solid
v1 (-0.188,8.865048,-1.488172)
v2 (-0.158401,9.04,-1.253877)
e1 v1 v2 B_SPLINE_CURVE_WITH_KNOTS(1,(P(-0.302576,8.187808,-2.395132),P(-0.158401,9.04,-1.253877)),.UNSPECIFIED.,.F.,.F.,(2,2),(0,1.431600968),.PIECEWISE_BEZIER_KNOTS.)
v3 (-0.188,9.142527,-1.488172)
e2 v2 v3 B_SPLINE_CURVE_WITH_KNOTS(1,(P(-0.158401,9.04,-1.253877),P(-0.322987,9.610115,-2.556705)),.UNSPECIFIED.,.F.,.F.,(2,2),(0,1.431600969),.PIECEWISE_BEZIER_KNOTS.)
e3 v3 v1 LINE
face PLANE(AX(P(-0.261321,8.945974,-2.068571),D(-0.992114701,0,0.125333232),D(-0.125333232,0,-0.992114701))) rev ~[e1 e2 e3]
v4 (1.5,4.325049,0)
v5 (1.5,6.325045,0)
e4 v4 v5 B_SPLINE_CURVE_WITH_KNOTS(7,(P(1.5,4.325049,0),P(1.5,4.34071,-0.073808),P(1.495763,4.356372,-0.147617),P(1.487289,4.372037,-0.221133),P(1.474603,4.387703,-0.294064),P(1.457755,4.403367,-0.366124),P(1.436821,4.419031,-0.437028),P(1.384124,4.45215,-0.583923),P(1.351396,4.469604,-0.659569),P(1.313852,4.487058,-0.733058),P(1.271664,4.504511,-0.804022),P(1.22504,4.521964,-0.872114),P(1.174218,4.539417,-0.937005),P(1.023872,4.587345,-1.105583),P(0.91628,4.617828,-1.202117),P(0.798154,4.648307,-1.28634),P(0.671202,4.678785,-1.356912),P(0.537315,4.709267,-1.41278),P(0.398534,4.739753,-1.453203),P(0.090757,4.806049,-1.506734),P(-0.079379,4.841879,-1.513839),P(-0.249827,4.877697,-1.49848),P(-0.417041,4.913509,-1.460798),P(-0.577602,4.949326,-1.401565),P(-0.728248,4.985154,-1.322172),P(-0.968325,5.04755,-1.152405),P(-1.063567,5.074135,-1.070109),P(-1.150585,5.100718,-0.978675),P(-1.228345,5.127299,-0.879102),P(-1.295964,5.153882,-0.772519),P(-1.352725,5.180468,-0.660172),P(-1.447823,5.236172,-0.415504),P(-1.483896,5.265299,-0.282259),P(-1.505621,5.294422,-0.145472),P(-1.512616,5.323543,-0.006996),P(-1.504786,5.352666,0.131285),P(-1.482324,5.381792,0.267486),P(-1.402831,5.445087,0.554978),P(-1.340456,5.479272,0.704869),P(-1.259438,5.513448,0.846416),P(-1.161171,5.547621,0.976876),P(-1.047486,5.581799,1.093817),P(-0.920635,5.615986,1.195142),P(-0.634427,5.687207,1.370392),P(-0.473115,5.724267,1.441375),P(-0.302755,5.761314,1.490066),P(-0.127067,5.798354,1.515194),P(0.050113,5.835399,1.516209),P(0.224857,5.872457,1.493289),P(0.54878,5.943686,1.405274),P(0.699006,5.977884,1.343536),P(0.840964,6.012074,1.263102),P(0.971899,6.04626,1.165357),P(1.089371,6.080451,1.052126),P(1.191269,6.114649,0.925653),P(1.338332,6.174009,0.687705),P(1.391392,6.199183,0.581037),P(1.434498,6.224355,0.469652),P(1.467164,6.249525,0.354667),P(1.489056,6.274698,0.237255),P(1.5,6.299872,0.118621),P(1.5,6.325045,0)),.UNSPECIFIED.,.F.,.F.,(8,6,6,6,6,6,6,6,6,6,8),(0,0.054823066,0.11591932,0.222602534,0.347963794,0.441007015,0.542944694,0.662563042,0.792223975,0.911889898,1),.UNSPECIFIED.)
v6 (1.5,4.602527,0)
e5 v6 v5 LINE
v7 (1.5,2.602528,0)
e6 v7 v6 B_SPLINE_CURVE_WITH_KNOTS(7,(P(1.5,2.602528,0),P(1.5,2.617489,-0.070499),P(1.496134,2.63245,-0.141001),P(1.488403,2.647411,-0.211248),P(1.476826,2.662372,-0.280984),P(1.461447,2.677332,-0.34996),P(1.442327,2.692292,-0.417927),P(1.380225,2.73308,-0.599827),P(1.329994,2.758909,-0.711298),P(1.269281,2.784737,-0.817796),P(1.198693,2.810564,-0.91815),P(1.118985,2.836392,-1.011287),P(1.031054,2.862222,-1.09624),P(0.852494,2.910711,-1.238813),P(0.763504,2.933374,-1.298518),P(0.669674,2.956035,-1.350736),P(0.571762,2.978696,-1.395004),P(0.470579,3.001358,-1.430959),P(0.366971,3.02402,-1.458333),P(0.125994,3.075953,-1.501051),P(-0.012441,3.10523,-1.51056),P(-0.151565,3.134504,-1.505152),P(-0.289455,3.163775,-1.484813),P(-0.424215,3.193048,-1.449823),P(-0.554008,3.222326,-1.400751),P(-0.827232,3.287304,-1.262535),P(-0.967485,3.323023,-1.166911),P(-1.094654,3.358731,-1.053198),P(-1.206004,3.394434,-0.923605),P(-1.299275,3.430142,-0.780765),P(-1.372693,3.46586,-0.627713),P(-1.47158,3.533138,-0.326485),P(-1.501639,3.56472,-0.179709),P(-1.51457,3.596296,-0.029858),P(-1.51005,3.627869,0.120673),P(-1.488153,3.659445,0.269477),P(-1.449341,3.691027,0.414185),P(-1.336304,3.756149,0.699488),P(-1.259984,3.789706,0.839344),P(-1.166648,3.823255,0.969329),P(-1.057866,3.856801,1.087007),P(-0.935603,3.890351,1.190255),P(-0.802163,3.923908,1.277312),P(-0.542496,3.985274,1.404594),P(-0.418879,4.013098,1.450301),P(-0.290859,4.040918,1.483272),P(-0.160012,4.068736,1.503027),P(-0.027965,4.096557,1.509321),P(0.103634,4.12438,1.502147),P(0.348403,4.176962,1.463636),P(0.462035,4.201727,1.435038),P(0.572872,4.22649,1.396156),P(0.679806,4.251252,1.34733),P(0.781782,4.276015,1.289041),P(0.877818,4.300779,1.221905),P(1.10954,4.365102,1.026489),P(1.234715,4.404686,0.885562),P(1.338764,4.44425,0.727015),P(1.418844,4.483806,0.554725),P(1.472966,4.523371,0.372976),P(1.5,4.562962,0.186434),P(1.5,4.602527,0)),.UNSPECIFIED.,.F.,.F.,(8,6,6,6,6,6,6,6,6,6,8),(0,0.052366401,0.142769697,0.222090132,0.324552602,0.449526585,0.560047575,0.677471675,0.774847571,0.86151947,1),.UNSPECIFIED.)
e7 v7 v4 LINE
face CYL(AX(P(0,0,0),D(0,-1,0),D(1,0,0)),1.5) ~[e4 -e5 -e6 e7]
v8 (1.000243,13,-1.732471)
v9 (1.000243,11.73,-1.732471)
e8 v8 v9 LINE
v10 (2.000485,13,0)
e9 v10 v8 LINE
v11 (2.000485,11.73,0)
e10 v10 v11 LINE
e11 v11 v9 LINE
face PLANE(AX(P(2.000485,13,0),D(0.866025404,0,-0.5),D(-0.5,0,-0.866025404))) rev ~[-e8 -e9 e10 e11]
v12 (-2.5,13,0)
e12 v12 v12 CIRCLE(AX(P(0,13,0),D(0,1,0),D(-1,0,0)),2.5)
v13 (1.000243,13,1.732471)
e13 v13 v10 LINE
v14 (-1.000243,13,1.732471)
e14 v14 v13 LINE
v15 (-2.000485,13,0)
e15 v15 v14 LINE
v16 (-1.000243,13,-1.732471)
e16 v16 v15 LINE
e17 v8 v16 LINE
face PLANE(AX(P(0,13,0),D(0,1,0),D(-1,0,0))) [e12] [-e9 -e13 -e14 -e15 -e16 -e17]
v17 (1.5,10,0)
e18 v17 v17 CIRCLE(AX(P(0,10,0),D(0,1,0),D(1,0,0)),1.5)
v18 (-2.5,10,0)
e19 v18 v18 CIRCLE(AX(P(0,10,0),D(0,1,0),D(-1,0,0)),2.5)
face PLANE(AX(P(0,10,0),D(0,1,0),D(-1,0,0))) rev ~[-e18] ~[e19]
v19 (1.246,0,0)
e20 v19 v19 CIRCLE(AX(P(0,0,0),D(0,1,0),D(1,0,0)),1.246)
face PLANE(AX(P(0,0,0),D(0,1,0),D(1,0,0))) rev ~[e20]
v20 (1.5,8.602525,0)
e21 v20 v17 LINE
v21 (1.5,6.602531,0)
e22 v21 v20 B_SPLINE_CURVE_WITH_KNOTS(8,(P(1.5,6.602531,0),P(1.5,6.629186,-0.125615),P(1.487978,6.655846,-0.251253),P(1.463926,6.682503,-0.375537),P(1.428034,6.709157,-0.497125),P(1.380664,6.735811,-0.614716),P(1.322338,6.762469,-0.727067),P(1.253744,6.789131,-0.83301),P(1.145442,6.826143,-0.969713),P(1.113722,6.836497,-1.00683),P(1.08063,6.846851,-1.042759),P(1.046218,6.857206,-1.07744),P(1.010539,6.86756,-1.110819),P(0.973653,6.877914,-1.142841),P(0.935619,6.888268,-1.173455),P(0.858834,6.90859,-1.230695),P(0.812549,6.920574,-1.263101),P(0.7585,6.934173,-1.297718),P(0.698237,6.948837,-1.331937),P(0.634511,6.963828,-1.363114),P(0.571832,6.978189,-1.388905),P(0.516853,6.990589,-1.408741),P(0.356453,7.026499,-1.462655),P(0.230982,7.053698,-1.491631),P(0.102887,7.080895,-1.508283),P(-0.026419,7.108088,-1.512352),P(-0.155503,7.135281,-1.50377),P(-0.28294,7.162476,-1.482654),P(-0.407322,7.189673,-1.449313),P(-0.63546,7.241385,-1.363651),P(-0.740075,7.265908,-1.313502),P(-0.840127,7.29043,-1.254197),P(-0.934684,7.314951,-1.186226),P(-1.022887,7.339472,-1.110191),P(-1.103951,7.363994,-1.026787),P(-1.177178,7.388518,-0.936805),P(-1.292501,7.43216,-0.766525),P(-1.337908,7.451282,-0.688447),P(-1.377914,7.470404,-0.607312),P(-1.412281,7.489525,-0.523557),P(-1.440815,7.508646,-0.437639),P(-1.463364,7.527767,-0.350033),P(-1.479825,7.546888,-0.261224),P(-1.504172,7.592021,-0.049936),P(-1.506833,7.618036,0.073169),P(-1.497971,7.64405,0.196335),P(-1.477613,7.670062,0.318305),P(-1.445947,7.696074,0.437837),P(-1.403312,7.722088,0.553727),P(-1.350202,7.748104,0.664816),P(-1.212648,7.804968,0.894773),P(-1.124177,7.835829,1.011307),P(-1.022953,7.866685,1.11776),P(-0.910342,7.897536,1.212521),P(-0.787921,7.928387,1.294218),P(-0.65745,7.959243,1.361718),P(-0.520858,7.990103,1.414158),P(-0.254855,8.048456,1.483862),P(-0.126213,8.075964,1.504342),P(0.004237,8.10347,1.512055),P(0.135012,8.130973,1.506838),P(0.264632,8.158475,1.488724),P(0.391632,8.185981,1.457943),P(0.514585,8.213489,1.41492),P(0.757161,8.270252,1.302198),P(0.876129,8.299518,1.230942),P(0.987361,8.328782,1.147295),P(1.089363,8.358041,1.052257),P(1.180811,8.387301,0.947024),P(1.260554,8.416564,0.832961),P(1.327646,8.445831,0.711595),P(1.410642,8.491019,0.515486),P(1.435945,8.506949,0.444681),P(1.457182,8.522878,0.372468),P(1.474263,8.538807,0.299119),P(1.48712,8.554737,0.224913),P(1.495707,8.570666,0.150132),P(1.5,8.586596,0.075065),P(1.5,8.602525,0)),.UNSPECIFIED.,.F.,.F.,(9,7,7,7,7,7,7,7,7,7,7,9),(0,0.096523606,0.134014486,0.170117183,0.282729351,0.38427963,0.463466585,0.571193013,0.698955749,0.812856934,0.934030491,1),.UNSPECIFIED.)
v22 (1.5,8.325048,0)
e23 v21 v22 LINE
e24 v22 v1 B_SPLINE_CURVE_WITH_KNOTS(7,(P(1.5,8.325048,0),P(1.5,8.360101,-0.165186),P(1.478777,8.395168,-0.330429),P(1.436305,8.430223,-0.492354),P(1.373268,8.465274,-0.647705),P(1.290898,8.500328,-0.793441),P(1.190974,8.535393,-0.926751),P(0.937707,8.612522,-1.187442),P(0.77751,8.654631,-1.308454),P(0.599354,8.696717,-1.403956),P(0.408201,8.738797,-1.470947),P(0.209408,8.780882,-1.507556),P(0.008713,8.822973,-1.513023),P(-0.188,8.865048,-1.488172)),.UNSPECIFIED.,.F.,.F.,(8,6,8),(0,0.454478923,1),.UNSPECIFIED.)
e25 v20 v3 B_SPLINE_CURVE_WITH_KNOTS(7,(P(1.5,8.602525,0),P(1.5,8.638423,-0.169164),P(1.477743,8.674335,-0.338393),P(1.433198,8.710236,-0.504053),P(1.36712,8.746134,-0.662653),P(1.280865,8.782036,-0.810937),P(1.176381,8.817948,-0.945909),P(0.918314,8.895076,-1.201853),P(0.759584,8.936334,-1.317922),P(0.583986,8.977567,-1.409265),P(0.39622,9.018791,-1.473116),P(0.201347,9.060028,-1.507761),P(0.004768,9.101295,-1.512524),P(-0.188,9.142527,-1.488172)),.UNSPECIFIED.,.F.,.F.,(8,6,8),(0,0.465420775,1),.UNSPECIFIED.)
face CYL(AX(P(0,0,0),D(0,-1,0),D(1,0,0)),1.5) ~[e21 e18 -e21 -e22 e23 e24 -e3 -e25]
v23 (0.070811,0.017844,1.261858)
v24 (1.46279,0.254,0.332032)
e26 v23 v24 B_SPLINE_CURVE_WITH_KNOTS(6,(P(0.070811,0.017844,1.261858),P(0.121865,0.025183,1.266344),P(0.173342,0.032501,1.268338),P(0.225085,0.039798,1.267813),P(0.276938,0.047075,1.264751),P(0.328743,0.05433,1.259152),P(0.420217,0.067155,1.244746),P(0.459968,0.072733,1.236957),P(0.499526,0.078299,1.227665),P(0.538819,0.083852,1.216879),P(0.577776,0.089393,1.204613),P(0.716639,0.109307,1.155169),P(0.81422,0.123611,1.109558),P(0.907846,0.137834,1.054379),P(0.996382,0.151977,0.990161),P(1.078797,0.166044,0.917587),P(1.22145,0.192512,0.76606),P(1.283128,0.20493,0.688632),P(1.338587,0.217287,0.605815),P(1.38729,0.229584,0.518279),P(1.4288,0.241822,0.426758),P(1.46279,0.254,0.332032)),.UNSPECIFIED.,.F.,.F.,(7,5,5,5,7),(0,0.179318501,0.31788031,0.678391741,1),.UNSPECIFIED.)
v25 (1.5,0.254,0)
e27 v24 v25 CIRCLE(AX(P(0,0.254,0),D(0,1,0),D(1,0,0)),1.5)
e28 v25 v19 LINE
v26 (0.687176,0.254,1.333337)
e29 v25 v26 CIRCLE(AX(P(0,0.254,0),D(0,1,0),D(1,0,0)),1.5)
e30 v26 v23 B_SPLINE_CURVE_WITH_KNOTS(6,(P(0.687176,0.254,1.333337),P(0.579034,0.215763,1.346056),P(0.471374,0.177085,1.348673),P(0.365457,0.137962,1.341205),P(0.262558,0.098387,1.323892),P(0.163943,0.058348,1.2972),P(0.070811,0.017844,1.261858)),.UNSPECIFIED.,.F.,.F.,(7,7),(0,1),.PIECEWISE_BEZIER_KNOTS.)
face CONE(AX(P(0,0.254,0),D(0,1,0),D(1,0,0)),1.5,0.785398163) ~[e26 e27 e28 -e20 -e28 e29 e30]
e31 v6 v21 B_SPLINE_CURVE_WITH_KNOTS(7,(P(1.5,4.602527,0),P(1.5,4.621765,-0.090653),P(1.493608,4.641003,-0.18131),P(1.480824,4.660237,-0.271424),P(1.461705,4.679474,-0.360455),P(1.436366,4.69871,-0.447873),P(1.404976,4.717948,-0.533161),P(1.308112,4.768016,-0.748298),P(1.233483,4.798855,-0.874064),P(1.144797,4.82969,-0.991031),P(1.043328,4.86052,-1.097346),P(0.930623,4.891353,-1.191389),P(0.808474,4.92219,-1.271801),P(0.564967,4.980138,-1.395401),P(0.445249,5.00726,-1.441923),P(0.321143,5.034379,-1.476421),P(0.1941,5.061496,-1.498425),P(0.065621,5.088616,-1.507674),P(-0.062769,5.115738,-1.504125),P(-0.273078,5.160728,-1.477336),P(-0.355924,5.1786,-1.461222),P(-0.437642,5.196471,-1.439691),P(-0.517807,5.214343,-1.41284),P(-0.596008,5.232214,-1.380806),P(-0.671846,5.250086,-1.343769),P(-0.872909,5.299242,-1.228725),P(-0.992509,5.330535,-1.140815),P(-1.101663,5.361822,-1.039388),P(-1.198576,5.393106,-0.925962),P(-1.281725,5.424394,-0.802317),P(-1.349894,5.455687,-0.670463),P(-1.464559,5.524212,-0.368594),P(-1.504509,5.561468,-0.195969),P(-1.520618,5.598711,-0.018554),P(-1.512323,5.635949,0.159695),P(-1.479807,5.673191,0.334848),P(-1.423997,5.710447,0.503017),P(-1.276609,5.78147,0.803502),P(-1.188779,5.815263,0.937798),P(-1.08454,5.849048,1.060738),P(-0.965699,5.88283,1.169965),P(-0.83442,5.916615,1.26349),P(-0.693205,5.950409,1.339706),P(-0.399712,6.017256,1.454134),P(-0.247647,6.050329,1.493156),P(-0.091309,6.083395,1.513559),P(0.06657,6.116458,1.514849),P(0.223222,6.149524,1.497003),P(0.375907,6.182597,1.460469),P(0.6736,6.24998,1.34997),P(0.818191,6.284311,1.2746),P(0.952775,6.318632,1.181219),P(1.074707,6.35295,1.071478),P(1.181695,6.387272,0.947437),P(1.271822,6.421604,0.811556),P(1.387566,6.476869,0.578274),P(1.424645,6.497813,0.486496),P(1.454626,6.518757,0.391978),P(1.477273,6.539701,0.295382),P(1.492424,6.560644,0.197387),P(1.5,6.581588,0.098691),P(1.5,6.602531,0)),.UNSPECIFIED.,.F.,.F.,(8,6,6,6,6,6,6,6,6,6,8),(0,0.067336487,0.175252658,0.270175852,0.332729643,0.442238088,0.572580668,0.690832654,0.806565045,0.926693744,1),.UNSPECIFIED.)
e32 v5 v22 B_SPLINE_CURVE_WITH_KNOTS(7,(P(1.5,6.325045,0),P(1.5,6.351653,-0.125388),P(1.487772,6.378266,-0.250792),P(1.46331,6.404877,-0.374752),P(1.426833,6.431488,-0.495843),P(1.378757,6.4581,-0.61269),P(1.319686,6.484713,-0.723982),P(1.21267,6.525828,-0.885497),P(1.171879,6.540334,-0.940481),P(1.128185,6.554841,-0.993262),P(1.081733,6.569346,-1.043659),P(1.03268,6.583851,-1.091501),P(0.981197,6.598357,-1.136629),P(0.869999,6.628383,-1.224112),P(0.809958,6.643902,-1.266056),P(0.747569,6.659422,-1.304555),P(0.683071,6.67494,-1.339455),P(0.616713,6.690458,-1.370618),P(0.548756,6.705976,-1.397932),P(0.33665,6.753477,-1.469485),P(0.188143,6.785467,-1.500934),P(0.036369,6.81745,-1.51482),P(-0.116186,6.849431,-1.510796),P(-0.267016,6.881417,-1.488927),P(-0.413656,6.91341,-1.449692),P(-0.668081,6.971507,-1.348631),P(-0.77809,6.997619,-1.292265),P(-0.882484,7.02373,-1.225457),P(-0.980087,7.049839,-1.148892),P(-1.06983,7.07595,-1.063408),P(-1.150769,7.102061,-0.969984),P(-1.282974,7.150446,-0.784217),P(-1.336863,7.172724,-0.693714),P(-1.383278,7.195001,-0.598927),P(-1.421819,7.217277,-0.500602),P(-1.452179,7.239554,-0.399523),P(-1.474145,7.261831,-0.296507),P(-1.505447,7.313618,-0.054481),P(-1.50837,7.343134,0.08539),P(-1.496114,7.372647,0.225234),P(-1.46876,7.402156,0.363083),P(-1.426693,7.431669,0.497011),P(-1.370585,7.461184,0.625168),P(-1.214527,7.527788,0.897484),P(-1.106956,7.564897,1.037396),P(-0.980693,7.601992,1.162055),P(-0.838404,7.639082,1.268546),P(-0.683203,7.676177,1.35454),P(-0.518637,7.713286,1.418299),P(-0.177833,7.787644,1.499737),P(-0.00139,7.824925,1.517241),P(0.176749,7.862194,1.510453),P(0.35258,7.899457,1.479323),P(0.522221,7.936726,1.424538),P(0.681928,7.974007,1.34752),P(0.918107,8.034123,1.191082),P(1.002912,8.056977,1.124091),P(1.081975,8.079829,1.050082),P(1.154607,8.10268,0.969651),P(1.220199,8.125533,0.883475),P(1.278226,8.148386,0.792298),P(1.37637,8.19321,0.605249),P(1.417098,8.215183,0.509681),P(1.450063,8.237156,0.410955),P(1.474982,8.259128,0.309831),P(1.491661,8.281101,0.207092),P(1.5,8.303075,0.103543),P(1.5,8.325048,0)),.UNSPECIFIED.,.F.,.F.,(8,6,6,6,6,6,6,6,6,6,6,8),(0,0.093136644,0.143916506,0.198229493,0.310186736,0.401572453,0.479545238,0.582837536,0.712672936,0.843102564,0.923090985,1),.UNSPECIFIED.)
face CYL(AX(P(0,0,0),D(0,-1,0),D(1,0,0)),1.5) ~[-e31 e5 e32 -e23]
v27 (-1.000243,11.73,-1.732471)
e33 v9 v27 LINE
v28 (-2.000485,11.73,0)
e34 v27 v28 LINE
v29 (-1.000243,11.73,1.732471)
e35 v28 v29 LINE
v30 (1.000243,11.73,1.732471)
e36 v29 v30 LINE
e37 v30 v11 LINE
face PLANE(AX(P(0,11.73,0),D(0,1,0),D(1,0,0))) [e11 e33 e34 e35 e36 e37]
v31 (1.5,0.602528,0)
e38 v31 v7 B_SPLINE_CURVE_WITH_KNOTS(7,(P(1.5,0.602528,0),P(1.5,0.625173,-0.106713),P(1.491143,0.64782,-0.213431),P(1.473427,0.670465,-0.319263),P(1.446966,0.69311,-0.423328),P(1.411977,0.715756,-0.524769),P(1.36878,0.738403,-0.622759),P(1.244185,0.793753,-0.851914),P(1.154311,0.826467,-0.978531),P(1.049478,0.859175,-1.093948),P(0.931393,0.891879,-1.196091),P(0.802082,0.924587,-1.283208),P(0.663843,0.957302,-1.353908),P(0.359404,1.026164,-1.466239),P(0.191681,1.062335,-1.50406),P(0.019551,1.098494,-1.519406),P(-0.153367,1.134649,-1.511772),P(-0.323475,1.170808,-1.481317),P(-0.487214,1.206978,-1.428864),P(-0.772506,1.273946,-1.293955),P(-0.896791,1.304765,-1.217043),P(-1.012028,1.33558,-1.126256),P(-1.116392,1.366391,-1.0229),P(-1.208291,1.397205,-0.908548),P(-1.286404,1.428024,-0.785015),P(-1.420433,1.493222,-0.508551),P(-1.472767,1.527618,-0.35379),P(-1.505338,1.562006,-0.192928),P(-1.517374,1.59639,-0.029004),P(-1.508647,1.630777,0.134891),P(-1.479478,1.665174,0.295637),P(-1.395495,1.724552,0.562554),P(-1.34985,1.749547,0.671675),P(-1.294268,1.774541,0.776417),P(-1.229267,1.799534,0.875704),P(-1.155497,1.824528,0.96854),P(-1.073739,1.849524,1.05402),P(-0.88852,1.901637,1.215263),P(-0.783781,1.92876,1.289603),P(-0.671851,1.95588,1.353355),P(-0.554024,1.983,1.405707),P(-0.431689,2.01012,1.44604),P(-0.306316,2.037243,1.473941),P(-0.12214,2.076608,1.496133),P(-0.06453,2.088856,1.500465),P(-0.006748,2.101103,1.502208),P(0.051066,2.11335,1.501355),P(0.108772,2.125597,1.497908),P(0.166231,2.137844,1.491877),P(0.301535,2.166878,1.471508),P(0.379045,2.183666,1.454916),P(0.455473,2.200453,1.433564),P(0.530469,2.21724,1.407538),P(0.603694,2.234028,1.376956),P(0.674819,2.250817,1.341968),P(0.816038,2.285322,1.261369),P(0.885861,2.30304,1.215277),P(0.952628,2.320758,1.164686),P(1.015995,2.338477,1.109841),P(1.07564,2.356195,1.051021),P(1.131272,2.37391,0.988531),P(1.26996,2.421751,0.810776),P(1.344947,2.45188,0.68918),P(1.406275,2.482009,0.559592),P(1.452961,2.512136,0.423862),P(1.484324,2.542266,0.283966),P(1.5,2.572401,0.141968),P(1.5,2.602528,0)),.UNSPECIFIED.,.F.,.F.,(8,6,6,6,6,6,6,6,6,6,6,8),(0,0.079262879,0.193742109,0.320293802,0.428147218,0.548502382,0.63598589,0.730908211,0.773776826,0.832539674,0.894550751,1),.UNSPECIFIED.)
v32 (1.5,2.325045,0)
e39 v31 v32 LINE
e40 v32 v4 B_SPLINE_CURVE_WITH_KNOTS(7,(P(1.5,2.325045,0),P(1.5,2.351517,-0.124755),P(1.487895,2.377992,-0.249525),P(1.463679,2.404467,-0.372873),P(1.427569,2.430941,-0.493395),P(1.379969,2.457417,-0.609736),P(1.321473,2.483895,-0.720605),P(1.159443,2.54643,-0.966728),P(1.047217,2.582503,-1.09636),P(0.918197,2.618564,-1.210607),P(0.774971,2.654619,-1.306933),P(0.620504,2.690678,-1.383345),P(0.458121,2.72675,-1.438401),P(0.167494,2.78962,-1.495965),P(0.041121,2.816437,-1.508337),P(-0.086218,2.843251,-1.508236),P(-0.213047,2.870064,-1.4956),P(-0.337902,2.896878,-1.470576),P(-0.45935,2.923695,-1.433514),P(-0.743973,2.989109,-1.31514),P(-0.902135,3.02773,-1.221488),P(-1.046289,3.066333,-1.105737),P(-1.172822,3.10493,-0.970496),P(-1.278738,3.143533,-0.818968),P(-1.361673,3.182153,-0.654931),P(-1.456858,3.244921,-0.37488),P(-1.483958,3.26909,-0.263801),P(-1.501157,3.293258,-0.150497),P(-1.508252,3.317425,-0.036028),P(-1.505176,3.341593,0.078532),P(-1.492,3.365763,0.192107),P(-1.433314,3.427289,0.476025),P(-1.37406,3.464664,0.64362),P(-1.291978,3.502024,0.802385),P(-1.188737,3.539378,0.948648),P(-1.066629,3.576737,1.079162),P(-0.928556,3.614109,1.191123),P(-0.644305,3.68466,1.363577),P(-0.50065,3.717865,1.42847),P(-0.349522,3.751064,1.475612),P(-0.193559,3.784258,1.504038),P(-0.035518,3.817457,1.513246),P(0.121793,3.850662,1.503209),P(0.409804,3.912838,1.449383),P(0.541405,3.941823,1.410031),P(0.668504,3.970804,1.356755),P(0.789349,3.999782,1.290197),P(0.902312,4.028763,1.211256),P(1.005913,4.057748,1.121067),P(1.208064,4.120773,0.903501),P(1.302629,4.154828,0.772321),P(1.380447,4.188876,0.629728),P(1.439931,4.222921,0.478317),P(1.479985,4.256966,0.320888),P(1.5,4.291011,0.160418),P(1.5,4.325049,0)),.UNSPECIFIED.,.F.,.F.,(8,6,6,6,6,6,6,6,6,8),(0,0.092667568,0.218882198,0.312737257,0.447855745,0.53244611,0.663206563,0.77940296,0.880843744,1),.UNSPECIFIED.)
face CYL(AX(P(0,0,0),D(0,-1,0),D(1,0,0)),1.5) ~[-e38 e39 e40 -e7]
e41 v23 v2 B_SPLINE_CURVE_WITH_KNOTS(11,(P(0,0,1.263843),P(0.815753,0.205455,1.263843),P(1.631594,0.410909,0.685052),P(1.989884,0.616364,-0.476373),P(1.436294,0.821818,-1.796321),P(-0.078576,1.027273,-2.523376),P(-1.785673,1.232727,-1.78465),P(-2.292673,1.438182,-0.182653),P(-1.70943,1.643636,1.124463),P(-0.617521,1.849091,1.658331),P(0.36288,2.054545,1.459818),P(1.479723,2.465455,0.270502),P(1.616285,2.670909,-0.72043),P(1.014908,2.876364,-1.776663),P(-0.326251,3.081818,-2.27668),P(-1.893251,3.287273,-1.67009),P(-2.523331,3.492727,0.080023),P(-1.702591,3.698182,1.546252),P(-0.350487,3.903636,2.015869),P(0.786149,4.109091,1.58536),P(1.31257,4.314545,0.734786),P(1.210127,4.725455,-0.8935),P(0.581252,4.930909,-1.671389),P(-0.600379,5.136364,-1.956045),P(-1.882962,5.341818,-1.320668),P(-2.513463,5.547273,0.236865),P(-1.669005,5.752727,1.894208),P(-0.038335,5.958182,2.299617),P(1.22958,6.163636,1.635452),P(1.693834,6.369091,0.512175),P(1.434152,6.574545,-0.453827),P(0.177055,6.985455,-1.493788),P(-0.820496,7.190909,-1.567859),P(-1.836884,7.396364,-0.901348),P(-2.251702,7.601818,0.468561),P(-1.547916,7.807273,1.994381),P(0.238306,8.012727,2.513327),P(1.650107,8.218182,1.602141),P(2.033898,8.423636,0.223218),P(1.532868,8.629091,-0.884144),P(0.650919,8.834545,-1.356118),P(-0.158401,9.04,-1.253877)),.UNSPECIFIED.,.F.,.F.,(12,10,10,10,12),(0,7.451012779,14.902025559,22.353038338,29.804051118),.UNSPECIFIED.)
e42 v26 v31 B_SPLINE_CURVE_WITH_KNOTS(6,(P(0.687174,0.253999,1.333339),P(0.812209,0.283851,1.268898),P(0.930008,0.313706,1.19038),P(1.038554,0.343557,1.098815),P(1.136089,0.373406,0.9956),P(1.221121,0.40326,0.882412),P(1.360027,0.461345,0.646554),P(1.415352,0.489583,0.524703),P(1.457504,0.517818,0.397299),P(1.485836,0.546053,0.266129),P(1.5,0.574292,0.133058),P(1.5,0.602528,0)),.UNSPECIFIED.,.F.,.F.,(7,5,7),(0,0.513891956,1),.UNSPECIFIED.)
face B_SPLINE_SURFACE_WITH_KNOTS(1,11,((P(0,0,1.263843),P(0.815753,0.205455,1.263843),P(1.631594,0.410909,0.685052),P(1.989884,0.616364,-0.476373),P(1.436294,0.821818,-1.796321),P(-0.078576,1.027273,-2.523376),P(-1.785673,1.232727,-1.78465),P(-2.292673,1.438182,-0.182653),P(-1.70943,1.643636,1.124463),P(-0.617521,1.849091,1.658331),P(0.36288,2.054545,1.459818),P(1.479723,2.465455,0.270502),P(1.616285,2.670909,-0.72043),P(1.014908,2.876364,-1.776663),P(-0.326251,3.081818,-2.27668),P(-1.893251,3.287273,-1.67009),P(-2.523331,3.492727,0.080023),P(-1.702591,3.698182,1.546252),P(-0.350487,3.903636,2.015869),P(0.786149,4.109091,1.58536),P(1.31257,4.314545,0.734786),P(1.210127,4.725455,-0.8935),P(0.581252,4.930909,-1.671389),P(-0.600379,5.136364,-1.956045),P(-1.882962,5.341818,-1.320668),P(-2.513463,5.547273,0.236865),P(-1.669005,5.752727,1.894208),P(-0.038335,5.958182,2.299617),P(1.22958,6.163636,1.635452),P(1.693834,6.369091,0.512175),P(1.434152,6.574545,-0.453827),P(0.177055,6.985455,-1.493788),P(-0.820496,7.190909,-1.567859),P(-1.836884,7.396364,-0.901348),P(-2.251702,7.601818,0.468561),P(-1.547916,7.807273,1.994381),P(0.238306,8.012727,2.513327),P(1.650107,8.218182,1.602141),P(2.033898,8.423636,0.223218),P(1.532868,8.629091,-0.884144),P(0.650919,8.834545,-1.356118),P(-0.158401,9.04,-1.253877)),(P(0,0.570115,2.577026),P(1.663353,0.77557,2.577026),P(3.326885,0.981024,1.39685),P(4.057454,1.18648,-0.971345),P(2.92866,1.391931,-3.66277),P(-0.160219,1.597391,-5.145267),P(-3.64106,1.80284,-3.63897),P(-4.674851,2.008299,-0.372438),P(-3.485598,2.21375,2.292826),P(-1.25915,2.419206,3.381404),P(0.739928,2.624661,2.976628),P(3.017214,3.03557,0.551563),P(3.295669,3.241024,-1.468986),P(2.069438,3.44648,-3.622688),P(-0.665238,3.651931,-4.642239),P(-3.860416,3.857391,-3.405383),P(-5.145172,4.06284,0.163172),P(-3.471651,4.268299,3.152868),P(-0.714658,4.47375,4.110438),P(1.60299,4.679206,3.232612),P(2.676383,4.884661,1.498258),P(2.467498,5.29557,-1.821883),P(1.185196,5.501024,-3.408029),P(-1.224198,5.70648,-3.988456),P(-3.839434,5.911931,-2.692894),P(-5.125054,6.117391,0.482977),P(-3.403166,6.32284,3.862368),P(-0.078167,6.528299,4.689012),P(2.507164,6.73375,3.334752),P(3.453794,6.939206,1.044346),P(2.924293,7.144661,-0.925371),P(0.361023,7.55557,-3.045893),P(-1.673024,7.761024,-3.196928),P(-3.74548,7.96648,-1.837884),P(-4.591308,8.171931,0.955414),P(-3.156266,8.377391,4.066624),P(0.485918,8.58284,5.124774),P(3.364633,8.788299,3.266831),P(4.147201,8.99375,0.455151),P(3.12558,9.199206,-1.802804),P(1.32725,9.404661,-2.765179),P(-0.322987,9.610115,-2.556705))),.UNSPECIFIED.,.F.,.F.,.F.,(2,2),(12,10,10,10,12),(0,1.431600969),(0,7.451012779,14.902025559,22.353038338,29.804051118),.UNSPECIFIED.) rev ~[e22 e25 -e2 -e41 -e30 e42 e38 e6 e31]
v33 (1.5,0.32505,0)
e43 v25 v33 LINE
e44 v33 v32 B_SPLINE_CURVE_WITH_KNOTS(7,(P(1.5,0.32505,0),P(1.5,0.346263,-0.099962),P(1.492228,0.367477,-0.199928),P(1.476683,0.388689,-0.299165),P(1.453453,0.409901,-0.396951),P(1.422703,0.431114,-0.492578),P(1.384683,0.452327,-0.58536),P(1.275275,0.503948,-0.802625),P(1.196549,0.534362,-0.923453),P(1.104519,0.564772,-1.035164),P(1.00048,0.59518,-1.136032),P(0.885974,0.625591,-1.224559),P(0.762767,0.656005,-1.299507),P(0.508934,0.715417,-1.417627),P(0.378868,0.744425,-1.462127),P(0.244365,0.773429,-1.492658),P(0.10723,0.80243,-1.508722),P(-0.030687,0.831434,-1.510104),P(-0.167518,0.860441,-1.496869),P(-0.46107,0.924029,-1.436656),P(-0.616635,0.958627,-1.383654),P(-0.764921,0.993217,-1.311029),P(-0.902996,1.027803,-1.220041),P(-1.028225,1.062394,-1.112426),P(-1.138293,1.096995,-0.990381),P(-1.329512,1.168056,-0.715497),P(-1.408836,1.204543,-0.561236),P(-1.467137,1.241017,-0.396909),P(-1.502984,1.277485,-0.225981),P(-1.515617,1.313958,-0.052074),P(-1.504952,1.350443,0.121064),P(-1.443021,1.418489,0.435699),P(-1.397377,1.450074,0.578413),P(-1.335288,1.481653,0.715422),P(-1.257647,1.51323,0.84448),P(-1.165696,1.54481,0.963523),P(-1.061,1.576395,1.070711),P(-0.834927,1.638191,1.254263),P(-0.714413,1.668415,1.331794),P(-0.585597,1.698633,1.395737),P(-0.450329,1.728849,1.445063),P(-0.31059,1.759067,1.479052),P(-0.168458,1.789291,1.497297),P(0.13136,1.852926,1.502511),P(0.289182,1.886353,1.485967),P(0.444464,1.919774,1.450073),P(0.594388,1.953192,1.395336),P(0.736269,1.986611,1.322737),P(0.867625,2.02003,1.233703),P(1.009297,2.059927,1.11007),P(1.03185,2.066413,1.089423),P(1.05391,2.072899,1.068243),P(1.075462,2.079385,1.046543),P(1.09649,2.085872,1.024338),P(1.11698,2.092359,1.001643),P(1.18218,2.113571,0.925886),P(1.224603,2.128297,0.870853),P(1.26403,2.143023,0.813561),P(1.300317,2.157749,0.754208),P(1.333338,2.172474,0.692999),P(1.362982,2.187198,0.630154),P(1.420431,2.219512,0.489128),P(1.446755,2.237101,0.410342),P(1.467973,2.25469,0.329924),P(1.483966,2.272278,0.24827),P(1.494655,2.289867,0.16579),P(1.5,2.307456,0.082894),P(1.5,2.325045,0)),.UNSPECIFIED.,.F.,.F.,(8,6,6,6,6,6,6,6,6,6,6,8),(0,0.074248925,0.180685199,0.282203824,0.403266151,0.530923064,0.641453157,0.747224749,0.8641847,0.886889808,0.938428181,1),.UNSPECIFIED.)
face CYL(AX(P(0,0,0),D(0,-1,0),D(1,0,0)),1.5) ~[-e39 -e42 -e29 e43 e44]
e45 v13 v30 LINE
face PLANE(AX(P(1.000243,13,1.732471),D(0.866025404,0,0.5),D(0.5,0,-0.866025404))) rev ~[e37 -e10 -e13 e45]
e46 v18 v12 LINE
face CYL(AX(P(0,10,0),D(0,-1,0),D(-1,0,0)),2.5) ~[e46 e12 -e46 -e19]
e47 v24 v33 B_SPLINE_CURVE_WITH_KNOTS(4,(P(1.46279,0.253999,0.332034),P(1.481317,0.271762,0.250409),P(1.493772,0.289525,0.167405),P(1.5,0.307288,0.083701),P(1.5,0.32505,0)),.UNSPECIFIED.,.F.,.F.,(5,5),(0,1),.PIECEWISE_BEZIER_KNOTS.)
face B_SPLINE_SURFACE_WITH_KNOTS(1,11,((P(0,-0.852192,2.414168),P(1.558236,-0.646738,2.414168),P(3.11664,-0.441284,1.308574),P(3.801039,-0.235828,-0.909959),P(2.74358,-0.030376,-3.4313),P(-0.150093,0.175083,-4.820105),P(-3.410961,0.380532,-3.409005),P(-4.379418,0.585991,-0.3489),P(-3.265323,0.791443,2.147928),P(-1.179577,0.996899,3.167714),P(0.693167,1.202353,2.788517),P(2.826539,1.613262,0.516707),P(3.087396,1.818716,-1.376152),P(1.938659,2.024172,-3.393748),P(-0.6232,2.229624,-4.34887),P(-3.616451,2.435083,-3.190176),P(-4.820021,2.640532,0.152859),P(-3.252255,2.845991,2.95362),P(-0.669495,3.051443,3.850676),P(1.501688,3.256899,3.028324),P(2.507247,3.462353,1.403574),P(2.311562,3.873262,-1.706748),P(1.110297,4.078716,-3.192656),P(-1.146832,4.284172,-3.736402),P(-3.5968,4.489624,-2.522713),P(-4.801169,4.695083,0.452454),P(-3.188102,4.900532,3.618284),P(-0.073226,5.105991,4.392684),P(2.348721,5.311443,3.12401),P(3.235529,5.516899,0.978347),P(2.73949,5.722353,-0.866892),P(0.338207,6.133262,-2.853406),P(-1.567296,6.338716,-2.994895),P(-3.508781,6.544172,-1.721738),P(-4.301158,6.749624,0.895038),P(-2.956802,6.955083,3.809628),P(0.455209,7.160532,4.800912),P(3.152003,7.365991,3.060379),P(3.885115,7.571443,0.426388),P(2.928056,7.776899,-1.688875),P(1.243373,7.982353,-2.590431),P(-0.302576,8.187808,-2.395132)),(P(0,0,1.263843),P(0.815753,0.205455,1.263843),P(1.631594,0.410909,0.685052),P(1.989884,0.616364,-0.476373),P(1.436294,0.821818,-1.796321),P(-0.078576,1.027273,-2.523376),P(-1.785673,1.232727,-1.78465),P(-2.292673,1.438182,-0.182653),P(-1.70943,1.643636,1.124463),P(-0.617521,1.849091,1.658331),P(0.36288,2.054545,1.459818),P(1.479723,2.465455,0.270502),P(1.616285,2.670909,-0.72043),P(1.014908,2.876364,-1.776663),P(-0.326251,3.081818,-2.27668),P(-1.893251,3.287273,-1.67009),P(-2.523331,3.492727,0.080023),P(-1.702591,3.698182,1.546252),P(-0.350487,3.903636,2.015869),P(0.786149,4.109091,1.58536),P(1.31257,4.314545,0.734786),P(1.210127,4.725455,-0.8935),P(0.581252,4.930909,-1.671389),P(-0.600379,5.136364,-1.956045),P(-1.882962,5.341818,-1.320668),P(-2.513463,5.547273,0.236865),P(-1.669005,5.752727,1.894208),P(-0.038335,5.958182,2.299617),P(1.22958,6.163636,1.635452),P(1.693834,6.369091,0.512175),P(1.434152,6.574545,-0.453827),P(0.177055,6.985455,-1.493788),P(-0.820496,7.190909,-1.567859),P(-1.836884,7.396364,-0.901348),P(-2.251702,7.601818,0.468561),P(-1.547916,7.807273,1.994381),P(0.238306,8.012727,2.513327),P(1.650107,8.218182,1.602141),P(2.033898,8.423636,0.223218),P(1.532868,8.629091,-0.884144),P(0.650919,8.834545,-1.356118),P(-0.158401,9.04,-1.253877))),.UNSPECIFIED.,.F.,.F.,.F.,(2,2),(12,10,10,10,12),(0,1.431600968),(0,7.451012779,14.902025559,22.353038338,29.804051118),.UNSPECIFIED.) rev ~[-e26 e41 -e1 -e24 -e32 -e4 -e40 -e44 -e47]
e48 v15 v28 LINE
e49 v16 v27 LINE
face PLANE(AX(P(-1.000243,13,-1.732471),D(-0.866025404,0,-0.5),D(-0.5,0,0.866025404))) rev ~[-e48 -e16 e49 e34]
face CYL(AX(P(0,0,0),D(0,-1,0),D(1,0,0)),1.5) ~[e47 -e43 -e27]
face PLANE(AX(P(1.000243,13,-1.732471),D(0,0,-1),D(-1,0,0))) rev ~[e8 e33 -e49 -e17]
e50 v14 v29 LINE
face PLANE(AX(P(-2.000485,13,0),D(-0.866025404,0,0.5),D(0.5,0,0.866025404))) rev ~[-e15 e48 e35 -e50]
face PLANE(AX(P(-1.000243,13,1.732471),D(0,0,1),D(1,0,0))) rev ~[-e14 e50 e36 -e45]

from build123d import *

# Parameters (mm, degrees)
SKETCH1_R           = 1.5
BOSS_EXTRUDE1_DEPTH = 10
SKETCH2_R           = 2.5
BOSS_EXTRUDE2_DEPTH = 3
CUT_EXTRUDE2_DEPTH  = 1.27
CHAMFER1_SIZE       = 0.254
CUT_SWEEP4_PITCH    = 2
CUT_SWEEP4_HEIGHT   = 9.04
CUT_SWEEP4_RADIUS   = 1.259947043


with BuildPart() as part:
    # Sketch1 → Boss-Extrude1 (new body)
    with BuildSketch(Plane(origin=(0, 0, 0), x_dir=(1, 0, 0), z_dir=(0, 1, 0))):
        Circle(SKETCH1_R)
    extrude(amount=BOSS_EXTRUDE1_DEPTH)

    # Sketch2 → Boss-Extrude2 (add)
    with BuildSketch(Plane(origin=(0, 10, 0), x_dir=(-1, 0, 0), z_dir=(0, 1, 0))):
        Circle(SKETCH2_R)
    extrude(amount=BOSS_EXTRUDE2_DEPTH)

    # Sketch3 → Cut-Extrude2 (cut)
    with BuildSketch(Plane(origin=(0, 13, 0), x_dir=(1, 0, 0), z_dir=(0, 1, 0))):
        Polygon((2.000485358, 0), (1.000242679, 1.73247114), (-1.000242679, 1.73247114), (-2.000485358, 0), (-1.000242679, -1.73247114), (1.000242679, -1.73247114), align=None)
    extrude(amount=-CUT_EXTRUDE2_DEPTH, mode=Mode.SUBTRACT)

    # Chamfer1
    chamfer1_edges = [part.edges().sort_by_distance(p)[0] for p in [
        (-1.5, 0, 0),
    ]]
    chamfer(chamfer1_edges, length=CHAMFER1_SIZE)

    # Cut-Sweep4: sweep along a helix
    with BuildLine() as cut_sweep4_path:
        Helix(CUT_SWEEP4_PITCH, CUT_SWEEP4_HEIGHT, CUT_SWEEP4_RADIUS, center=(0, 0, 0), direction=(0, 1, 0))
    # Sketch6 → Cut-Sweep4 (sweep, cut)
    with BuildSketch(Plane(origin=(0, 0, 0), x_dir=(0, 0, -1), z_dir=(1, 0, 0))):
        Polygon((-1.263842547, 0), (-2.577025719, 0.570115155), (-2.41416834, -0.852192409), align=None)
    sweep(path=cut_sweep4_path.line, is_frenet=True, mode=Mode.SUBTRACT)


solid = part.part
